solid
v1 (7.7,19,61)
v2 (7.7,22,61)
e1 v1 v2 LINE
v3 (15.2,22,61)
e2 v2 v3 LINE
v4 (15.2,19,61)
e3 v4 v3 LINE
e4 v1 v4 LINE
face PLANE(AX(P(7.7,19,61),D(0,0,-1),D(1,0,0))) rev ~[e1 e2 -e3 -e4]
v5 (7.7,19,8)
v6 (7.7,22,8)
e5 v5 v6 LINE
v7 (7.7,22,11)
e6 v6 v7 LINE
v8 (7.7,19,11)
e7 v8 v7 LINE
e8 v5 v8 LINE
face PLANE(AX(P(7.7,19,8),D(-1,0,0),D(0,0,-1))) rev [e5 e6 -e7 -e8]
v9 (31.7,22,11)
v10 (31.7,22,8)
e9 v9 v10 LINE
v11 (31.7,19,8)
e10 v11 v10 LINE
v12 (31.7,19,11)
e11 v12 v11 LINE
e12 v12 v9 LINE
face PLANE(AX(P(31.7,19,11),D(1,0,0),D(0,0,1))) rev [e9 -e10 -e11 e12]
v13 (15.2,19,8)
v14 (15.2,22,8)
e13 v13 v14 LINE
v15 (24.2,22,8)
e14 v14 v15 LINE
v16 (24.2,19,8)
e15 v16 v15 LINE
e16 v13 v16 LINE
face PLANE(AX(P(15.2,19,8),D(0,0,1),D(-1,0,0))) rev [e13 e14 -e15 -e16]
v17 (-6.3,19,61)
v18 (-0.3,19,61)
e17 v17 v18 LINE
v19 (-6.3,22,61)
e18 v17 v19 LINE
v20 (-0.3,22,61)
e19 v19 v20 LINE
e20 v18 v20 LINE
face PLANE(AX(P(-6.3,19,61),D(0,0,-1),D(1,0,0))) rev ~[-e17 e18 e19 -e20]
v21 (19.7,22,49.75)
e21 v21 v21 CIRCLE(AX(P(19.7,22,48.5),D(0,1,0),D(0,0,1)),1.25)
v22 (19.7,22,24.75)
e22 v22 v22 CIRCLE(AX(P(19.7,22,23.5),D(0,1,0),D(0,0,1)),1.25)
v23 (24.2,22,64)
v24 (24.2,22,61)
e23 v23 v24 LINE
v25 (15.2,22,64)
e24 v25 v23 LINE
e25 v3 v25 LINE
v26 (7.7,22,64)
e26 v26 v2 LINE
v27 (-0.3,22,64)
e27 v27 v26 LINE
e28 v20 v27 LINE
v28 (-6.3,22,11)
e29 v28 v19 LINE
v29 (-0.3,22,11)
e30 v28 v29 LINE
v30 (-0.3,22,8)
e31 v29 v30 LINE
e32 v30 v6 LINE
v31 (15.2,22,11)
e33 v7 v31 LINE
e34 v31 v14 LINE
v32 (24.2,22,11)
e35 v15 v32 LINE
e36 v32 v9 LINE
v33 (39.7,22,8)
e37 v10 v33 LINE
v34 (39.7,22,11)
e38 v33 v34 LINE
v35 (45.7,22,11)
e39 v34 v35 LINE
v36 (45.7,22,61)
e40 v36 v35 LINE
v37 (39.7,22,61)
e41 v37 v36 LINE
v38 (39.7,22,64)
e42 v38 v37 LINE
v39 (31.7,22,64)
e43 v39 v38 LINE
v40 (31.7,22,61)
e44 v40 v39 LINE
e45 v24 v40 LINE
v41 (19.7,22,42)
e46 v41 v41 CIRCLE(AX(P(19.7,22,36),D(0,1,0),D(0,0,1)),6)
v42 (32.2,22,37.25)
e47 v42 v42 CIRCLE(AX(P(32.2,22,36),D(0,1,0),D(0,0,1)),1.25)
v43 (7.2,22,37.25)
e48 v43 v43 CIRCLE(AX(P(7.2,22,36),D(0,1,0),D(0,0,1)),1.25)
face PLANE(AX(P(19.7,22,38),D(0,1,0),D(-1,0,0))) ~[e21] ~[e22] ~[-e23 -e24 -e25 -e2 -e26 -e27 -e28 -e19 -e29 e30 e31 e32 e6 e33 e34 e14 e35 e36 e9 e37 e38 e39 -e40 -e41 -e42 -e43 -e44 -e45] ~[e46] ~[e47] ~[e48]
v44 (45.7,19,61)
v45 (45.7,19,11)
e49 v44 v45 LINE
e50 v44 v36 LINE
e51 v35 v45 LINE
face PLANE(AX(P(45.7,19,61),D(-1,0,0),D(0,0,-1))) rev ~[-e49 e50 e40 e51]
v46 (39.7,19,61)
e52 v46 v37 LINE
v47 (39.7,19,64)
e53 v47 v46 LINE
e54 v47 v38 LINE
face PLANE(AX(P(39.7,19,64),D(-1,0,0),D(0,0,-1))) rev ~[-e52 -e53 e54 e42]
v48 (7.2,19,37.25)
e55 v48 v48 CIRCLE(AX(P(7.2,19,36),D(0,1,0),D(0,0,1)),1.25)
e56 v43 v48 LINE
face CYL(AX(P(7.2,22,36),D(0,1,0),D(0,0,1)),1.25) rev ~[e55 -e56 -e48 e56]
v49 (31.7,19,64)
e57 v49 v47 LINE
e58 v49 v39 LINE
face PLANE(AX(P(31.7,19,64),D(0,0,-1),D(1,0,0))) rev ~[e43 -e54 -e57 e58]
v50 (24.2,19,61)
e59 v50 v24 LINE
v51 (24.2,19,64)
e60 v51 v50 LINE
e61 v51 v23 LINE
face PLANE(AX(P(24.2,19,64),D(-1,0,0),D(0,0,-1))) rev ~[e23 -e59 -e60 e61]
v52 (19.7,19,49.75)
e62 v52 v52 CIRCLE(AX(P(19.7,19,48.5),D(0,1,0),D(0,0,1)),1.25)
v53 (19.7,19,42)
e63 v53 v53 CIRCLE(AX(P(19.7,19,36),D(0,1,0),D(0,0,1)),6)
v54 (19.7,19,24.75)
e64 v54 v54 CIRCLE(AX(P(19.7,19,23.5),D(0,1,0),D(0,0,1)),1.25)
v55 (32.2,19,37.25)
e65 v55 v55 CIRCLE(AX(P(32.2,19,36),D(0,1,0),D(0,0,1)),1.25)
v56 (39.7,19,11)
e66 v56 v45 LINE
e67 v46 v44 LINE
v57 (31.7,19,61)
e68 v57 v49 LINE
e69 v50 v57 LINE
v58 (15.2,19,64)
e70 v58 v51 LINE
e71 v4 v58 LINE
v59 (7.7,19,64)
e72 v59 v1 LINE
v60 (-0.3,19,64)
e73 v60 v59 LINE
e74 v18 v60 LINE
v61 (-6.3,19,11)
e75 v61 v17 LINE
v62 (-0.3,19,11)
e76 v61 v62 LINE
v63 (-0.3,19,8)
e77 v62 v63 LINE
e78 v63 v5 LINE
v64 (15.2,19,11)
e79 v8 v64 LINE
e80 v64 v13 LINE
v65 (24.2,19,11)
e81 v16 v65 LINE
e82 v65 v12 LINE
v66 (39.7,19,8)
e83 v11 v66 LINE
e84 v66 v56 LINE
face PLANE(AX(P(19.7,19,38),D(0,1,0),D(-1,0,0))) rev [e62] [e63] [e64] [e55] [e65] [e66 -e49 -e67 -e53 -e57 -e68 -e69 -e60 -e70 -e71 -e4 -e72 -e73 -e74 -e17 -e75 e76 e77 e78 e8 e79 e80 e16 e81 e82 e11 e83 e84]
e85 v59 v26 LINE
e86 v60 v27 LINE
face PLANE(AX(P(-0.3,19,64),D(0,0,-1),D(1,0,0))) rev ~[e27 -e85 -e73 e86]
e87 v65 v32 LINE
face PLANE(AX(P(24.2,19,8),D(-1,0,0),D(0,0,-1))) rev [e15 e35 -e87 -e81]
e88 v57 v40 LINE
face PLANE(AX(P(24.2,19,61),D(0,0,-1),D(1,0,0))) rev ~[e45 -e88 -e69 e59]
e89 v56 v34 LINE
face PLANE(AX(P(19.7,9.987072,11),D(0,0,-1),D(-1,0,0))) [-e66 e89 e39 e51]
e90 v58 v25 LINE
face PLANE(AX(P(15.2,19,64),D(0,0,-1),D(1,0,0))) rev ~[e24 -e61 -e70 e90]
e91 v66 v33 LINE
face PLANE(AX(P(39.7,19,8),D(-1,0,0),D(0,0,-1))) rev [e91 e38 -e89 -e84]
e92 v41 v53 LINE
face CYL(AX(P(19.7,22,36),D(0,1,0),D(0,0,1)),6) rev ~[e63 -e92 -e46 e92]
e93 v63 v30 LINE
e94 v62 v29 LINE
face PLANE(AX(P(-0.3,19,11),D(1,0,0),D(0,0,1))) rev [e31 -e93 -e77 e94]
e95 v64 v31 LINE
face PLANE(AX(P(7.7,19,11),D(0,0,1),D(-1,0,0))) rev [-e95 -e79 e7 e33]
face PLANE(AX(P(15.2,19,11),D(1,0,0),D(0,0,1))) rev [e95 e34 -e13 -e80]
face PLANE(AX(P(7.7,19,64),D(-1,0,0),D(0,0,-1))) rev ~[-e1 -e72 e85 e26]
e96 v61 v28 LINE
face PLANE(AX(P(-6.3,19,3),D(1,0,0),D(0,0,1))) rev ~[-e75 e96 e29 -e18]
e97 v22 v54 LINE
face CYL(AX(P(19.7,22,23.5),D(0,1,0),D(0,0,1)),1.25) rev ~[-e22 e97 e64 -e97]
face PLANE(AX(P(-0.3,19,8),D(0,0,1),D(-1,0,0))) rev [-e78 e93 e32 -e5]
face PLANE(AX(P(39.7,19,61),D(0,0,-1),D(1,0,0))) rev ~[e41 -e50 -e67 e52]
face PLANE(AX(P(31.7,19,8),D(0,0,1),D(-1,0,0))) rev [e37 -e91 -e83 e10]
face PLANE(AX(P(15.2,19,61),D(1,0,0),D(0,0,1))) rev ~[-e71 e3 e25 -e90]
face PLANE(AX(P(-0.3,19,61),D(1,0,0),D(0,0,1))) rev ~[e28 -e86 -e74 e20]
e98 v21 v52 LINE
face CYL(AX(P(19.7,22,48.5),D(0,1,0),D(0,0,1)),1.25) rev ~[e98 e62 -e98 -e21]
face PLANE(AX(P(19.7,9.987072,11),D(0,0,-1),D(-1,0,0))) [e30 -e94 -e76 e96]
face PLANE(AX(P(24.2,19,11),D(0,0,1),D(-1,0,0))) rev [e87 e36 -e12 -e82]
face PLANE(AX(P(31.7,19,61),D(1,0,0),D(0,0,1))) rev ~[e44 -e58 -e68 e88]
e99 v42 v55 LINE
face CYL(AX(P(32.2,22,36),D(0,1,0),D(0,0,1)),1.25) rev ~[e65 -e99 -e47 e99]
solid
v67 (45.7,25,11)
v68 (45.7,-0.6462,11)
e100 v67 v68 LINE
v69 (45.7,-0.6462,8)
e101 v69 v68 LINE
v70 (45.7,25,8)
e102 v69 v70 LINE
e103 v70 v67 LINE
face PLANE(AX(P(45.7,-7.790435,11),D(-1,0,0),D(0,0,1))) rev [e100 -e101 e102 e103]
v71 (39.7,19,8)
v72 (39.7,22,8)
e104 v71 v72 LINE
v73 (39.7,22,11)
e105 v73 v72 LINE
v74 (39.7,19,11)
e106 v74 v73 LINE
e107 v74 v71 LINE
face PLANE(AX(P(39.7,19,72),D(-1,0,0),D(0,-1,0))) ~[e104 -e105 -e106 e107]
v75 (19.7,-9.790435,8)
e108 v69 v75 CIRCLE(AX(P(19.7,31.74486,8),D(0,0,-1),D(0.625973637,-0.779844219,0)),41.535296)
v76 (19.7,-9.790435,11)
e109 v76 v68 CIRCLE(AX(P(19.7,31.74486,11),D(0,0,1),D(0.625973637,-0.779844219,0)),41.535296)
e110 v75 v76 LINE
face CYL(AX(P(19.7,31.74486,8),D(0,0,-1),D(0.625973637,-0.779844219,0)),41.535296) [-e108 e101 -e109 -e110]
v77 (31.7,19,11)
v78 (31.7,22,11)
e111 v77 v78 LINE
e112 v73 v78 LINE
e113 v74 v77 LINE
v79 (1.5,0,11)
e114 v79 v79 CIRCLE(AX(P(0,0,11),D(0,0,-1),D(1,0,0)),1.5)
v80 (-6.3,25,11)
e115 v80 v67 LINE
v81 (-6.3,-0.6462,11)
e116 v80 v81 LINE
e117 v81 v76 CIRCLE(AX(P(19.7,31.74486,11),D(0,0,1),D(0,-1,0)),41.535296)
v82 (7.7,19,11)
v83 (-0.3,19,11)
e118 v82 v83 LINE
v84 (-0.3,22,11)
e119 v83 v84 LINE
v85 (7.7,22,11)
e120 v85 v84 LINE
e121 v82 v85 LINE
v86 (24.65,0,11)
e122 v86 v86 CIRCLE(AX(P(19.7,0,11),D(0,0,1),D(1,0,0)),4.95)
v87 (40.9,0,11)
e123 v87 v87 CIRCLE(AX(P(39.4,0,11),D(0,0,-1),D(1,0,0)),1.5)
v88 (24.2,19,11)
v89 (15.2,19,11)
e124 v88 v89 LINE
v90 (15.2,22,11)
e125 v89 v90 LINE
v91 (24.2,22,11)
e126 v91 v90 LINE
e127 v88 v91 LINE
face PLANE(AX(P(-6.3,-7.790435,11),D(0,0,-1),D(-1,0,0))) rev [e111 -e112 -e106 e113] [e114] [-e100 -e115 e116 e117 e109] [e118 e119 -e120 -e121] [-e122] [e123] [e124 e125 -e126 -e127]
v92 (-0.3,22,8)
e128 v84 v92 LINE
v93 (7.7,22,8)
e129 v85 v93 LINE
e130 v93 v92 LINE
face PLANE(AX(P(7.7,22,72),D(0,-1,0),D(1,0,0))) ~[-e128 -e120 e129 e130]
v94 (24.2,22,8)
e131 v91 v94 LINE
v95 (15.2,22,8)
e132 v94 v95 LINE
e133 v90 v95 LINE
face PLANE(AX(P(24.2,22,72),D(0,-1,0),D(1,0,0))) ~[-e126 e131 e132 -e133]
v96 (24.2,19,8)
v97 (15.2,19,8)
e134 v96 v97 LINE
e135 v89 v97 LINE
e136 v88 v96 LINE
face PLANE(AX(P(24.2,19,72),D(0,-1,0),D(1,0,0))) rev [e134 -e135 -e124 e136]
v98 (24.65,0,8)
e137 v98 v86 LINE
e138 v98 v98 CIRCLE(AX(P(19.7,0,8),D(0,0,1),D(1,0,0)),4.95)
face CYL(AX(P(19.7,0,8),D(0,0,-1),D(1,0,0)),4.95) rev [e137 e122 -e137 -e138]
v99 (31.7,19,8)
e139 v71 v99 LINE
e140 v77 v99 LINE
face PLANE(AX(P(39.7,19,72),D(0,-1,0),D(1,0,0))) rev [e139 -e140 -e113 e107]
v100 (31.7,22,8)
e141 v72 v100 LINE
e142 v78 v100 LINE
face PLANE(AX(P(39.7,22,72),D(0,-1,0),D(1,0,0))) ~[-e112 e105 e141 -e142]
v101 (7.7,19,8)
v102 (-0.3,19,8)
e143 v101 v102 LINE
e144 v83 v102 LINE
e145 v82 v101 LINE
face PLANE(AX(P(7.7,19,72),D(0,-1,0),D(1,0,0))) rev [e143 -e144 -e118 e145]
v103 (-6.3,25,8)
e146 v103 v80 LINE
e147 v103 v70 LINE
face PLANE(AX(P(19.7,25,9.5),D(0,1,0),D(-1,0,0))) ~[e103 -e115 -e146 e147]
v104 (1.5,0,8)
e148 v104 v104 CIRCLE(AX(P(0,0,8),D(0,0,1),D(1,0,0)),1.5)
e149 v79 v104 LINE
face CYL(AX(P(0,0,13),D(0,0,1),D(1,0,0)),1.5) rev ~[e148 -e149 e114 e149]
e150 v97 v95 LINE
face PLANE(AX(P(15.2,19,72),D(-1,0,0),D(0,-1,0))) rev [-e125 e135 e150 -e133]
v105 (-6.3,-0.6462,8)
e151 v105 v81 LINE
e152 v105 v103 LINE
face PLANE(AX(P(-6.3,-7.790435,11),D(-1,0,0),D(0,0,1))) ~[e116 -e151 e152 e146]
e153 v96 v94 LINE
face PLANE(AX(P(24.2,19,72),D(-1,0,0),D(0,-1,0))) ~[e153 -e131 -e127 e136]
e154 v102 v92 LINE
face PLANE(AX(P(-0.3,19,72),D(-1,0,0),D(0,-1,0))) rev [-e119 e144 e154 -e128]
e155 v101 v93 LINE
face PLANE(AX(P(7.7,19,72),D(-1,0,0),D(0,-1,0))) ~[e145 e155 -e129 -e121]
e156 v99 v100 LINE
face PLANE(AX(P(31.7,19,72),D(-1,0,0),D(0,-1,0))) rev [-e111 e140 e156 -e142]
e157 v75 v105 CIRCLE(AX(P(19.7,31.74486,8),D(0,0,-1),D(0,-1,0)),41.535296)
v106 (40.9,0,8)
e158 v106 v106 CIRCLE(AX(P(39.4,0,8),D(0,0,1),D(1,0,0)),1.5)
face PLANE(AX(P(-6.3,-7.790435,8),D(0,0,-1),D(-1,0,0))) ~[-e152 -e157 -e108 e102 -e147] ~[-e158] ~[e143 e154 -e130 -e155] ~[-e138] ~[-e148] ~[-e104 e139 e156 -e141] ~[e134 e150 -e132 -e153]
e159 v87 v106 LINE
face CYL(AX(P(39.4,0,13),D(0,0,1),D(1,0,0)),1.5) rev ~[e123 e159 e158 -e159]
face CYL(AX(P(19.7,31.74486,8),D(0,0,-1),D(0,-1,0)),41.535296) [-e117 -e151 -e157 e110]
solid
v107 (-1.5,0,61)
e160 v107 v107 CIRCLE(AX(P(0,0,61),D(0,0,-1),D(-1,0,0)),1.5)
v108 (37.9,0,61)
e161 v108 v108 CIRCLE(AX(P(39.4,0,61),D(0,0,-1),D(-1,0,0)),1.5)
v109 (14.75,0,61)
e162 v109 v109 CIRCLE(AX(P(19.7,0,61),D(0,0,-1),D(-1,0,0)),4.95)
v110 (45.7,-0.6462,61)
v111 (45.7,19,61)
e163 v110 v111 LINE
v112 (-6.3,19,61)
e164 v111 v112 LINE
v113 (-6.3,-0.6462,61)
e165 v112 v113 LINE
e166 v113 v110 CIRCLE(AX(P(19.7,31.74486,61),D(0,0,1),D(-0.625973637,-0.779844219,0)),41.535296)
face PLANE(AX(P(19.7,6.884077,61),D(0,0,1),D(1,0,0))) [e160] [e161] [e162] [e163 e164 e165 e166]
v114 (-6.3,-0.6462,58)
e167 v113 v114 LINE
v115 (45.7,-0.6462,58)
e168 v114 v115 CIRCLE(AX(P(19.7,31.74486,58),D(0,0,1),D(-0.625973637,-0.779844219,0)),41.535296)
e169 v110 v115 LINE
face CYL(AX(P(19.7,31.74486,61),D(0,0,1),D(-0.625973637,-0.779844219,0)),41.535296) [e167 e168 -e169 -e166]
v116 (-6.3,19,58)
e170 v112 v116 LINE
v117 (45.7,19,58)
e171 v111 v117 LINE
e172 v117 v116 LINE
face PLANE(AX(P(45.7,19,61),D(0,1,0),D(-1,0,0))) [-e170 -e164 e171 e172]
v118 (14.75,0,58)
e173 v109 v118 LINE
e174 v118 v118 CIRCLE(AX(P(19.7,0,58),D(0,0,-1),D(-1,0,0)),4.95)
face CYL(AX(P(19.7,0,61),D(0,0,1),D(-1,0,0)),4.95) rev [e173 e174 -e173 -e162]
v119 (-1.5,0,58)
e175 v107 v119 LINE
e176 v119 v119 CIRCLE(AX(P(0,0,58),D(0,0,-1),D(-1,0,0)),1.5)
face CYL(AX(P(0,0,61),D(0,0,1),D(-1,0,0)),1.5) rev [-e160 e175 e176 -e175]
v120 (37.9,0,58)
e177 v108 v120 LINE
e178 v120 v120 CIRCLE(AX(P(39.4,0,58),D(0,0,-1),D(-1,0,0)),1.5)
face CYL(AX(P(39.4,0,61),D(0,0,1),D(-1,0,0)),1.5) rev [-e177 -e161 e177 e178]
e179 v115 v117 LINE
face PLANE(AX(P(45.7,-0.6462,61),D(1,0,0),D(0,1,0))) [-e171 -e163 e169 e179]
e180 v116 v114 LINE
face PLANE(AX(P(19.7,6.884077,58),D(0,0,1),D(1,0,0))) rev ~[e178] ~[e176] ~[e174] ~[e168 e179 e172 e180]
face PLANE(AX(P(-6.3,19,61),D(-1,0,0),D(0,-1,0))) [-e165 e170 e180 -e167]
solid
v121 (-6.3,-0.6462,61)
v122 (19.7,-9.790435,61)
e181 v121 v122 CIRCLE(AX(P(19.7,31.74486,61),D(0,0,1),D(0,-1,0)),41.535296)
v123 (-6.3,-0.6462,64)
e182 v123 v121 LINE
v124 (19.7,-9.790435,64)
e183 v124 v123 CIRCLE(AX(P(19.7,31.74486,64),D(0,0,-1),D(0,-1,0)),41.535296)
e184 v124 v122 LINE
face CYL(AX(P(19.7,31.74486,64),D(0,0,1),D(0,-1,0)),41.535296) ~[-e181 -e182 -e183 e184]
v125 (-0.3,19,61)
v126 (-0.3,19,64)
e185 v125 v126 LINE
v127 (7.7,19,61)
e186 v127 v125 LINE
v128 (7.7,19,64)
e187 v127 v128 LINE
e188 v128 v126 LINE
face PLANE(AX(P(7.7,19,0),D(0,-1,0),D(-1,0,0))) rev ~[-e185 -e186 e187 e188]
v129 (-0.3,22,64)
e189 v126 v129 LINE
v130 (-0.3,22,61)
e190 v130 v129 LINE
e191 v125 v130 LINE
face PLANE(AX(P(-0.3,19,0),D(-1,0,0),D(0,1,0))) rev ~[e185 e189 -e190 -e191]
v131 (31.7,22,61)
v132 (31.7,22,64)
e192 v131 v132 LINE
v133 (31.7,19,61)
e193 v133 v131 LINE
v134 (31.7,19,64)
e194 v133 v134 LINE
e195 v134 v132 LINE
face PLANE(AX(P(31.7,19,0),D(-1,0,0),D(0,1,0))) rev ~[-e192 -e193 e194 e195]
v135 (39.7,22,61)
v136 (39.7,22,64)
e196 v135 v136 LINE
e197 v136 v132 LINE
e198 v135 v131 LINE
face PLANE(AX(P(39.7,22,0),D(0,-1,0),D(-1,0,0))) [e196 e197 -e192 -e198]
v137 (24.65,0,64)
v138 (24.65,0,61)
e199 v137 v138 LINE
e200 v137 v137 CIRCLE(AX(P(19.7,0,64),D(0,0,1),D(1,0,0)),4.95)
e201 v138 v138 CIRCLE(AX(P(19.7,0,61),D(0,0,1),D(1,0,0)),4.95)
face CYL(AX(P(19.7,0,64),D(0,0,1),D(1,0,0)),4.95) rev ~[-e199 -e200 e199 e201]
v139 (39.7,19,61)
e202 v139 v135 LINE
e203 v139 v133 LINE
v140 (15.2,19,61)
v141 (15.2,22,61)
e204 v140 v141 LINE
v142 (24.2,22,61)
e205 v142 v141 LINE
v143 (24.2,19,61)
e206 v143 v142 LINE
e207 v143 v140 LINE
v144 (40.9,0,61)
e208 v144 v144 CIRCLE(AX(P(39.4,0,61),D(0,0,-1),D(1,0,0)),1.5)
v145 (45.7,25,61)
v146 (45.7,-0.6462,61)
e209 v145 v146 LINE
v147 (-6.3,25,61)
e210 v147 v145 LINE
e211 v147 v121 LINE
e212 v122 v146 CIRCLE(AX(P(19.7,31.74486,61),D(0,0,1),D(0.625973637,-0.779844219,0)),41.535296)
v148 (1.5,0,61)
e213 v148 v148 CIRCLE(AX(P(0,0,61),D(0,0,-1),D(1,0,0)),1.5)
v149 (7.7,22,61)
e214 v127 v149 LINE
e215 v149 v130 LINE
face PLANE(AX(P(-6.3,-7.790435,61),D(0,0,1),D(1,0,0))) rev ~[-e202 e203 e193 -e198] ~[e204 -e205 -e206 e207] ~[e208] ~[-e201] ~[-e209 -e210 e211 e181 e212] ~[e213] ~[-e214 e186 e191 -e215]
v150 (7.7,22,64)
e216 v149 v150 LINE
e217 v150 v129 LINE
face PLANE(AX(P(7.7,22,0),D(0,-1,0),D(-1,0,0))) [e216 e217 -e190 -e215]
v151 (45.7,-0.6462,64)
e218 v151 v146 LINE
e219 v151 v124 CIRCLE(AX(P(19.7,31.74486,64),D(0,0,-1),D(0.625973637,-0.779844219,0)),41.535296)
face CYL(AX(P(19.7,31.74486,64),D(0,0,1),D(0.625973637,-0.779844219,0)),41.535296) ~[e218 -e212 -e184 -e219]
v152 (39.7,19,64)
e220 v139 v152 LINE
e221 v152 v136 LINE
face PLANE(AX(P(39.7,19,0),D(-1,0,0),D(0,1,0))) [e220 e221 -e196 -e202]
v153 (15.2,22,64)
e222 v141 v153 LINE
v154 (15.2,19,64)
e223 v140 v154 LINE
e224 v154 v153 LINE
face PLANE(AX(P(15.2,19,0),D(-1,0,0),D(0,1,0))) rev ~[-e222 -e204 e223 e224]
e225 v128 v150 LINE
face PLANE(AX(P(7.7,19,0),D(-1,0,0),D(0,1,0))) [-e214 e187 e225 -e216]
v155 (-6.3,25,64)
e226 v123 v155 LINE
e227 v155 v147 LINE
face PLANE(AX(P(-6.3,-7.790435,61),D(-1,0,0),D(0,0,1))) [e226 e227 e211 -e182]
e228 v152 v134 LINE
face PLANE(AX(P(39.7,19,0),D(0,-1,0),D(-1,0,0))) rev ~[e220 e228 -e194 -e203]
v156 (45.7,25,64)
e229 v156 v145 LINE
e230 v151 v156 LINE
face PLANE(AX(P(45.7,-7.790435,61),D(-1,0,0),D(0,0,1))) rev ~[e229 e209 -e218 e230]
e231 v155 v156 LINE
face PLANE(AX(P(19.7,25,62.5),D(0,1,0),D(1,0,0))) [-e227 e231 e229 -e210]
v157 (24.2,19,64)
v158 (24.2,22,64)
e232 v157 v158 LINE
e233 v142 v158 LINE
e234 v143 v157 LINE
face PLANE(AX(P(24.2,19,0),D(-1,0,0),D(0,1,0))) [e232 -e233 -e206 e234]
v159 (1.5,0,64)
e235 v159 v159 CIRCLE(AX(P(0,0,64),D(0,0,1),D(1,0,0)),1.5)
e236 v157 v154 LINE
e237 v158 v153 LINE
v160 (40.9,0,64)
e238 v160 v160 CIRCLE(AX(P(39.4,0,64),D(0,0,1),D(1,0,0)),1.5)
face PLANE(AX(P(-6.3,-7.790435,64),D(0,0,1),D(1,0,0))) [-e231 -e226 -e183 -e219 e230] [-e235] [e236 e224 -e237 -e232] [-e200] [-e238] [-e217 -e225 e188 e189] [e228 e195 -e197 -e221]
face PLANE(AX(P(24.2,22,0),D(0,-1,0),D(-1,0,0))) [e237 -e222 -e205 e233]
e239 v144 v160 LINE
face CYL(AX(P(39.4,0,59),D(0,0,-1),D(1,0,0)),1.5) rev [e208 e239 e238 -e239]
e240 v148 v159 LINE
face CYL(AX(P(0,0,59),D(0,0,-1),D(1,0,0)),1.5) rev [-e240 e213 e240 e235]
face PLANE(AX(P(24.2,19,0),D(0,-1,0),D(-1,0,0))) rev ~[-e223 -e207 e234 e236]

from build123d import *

# Parameters (mm, degrees)
SKETCH_1_R                = 1.5
SKETCH_1_R_2              = 2.5
EXTRUDE_1_DEPTH           = 3
EXTRUDE_START             = -5
SKETCH_2_R                = 2.5
SKETCH_2_R_2              = 1.5
EXTRUDE_6_DEPTH           = 5
SKETCH_5_W                = 62
SKETCH_5_H                = 30
CUT_EXTRUDE_1_DEPTH       = 2
SKETCH_6_W                = 10
SKETCH_6_H                = 3
CUT_EXTRUDE_2_DEPTH       = 10
SKETCH_8_W                = 5
SKETCH_8_H                = 30
CUT_EXTRUDE_3_DEPTH       = 13
PATTERN_LINEAR_1_COUNT    = 2
PATTERN_LINEAR_1_PITCH    = 61
CUT_EXTRUDE_9_DEPTH       = 3
CUT_EXTRUDE_10_DEPTH      = 78.681979892
CUT_EXTRUDE_10_DEPTH_BACK = 3
SKETCH_14_W               = 10
SKETCH_14_H               = 3
EXTRUDE_7_DEPTH           = 3
SKETCH_16_W               = 52
SKETCH_16_H               = 3
EXTRUDE_8_DEPTH           = 10
SKETCH_17_W               = 52
SKETCH_17_H               = 3
EXTRUDE_9_DEPTH           = 10
SKETCH_18_W               = 8
SKETCH_18_H               = 3
SKETCH_18_W_2             = 9
CUT_EXTRUDE_11_DEPTH      = 92
EXTRUDE_10_DEPTH          = 3
EXTRUDE_11_DEPTH          = 3
SKETCH_22_W               = 186.911314513
SKETCH_22_H               = 209.890351
CUT_EXTRUDE_12_DEPTH      = 32
SKETCH_23_W               = 36
SKETCH_23_H               = 45.580870686
CUT_EXTRUDE_13_DEPTH      = 32
SKETCH_24_R               = 6
CUT_EXTRUDE_14_DEPTH      = 70
SKETCH_25_R               = 1.25
CUT_EXTRUDE_15_DEPTH      = 70
SKETCH_26_R               = 4.95
CUT_EXTRUDE_16_DEPTH      = 70
SKETCH_27_W               = 3
SKETCH_27_H               = 22.790435343
EXTRUDE_12_DEPTH          = 2
SKETCH_28_W               = 3
SKETCH_28_H               = 22.790435343
EXTRUDE_13_DEPTH          = 2
SKETCH_29_W               = 52
SKETCH_29_H               = 3
EXTRUDE_14_DEPTH          = 2
SKETCH_30_W               = 20
SKETCH_30_H               = 3
EXTRUDE_15_DEPTH          = 2
CUT_EXTRUDE_18_DEPTH      = 12
CUT_EXTRUDE_START         = -12
CUT_EXTRUDE_19_DEPTH      = 12
SKETCH_33_R               = 17.058294543
EXTRUDE_16_DEPTH          = 3
SKETCH_34_R               = 56.337564476
CUT_EXTRUDE_20_DEPTH      = 7
CUT_EXTRUDE_START_2       = -5
CUT_EXTRUDE_21_DEPTH      = 5
CUT_EXTRUDE_23_DEPTH      = 5
SKETCH_39_R               = 6
CUT_EXTRUDE_24_DEPTH      = 5
SKETCH_40_R               = 1.5
SKETCH_40_R_2             = 4.95
EXTRUDE_17_DEPTH          = 3
SKETCH_41_R               = 1.25
CUT_EXTRUDE_25_DEPTH      = 3


with BuildPart() as part:
    # 草图1 → 凸台-拉伸1 (new body)
    with BuildSketch(Plane.XY):
        with BuildLine():
            Line((-5.3, 6), (44.7, 6))
            ThreePointArc((44.7, 6), (50.7, 0), (44.7, -6))
            Line((44.7, -6), (-5.3, -6))
            ThreePointArc((-5.3, -6), (-11.3, 0), (-5.3, 6))
        make_face()
        Circle(SKETCH_1_R, mode=Mode.SUBTRACT)
        with Locations((39.4, 0)):
            Circle(SKETCH_1_R, mode=Mode.SUBTRACT)
        with Locations((19.7, 0)):
            Circle(SKETCH_1_R_2, mode=Mode.SUBTRACT)
    extrude(amount=EXTRUDE_1_DEPTH)

    # 草图2 → 凸台-拉伸6 (add)
    # profile 1 of 3: a face of its own
    with BuildSketch(Plane.XY.offset(3).offset(EXTRUDE_START)):
        with BuildLine():
            Line((-11.3, 15), (-11.3, 3.3e-08))
            ThreePointArc((-11.3, 3.3e-08), (-9.542640675, 4.242640699), (-5.3, 6))
            Line((-5.3, 6), (44.7, 6))
            ThreePointArc((44.7, 6), (48.942640687, 4.242640687), (50.7, 0))
            Line((50.7, 0), (50.7, 15))
            Line((50.7, 15), (-11.3, 15))
        make_face()
    # profile 2 of 3: a face of its own
    with BuildSketch(Plane.XY.offset(3).offset(EXTRUDE_START)):
        with BuildLine():
            Line((44.7, 6), (-5.3, 6))
            ThreePointArc((-5.3, 6), (-11.3, 0), (-5.3, -6))
            Line((-5.3, -6), (44.7, -6))
            ThreePointArc((44.7, -6), (50.7, 0), (44.7, 6))
        make_face()
        with Locations((19.7, 0)):
            Circle(SKETCH_2_R, mode=Mode.SUBTRACT)
        Circle(SKETCH_2_R_2, mode=Mode.SUBTRACT)
        with Locations((39.4, 0)):
            Circle(SKETCH_2_R_2, mode=Mode.SUBTRACT)
    # profile 3 of 3: a face of its own
    with BuildSketch(Plane.XY.offset(3).offset(EXTRUDE_START)):
        with BuildLine():
            Line((-11.3, 3.3e-08), (-11.3, -15))
            Line((-11.3, -15), (50.7, -15))
            Line((50.7, -15), (50.7, 0))
            ThreePointArc((50.7, 0), (48.942640687, -4.242640687), (44.7, -6))
            Line((44.7, -6), (-5.3, -6))
            ThreePointArc((-5.3, -6), (-9.542640699, -4.242640675), (-11.3, 3.3e-08))
        make_face()
    extrude(amount=EXTRUDE_6_DEPTH)

    # 草图5 → 切除-拉伸1 (cut)
    with BuildSketch(Plane(origin=(0, 0, -2), x_dir=(-1, 0, 0), z_dir=(0, 0, -1))):
        with Locations((-19.7, 0)):
            Rectangle(SKETCH_5_W, SKETCH_5_H)
    extrude(amount=-CUT_EXTRUDE_1_DEPTH, mode=Mode.SUBTRACT)

    # 草图6 → 切除-拉伸2 (cut)
    with BuildSketch(Plane(origin=(0, 0, 0), x_dir=(-1, 0, 0), z_dir=(0, 0, -1))):
        with Locations((-37.7, 10.5)):
            Rectangle(SKETCH_6_W, SKETCH_6_H)
        with Locations((-19.7, 10.5)):
            Rectangle(SKETCH_6_W, SKETCH_6_H)
        with Locations((-1.7, 10.5)):
            Rectangle(SKETCH_6_W, SKETCH_6_H)
    extrude(amount=-CUT_EXTRUDE_2_DEPTH, mode=Mode.SUBTRACT)

    # 草图8 → 切除-拉伸3 (cut)
    with BuildSketch(Plane.XY.offset(3)):
        with Locations((-8.8, 0)):
            Rectangle(SKETCH_8_W, SKETCH_8_H)
        with Locations((48.2, 0)):
            Rectangle(SKETCH_8_W, SKETCH_8_H)
    extrude(amount=-CUT_EXTRUDE_3_DEPTH, mode=Mode.SUBTRACT)


with BuildPart() as pattern_linear_1_1:
    # 阵列(线性)1: pattern copy
    add(part.part.moved(Location(Vector(0, 0, 1) * (1 * PATTERN_LINEAR_1_PITCH))))

    # 草图12 → 切除-拉伸9 (cut)
    with BuildSketch(Plane.XY.offset(64)):
        with BuildLine():
            Line((-6.3, -15), (19.7, -15))
            ThreePointArc((19.7, -15), (4.683324043, -10.971127107), (-6.3, 0.033370453))
            Line((-6.3, 0.033370453), (-6.3, -15))
        make_face()
        with BuildLine():
            Line((45.7, -15), (45.7, 0.033370453))
            ThreePointArc((45.7, 0.033370453), (34.716675957, -10.971127107), (19.7, -15))
            Line((19.7, -15), (45.7, -15))
        make_face()
    extrude(amount=-CUT_EXTRUDE_9_DEPTH, mode=Mode.SUBTRACT)


with BuildPart() as part_1:
    add(part.part)

    # 草图13 → 切除-拉伸10 (cut, two sides: drawn at the far end of the back side and taken through both)
    with BuildSketch(Plane.XY.offset(3).offset(-CUT_EXTRUDE_10_DEPTH_BACK)):
        with BuildLine():
            ThreePointArc((19.7, -15), (4.683324043, -10.971127107), (-6.3, 0.033370453))
            Line((-6.3, 0.033370453), (-6.3, -15))
            Line((-6.3, -15), (19.7, -15))
        make_face()
        with BuildLine():
            ThreePointArc((45.7, 0.033370453), (34.716675957, -10.971127107), (19.7, -15))
            Line((19.7, -15), (45.7, -15))
            Line((45.7, -15), (45.7, 0.033370453))
        make_face()
    extrude(amount=CUT_EXTRUDE_10_DEPTH + CUT_EXTRUDE_10_DEPTH_BACK, mode=Mode.SUBTRACT)

    add(pattern_linear_1_1.part)  # 凸台-拉伸7 merges 阵列(线性)1_1
    # 草图14 → 凸台-拉伸7 (add)
    with BuildSketch(Plane(origin=(0, 9, 0), x_dir=(1, 0, 0), z_dir=(0, 1, 0))):
        with Locations((37.7, -62.5)):
            Rectangle(SKETCH_14_W, SKETCH_14_H)
        with Locations((1.7, -1.5)):
            Rectangle(SKETCH_14_W, SKETCH_14_H)
        with Locations((19.7, -1.5)):
            Rectangle(SKETCH_14_W, SKETCH_14_H)
        with Locations((37.7, -1.5)):
            Rectangle(SKETCH_14_W, SKETCH_14_H)
        with Locations((1.7, -62.5)):
            Rectangle(SKETCH_14_W, SKETCH_14_H)
        with Locations((19.7, -62.5)):
            Rectangle(SKETCH_14_W, SKETCH_14_H)
    extrude(amount=EXTRUDE_7_DEPTH)

    # 草图16 → 凸台-拉伸8 (add)
    with BuildSketch(Plane(origin=(0, 15, 0), x_dir=(1, 0, 0), z_dir=(0, 1, 0))):
        with Locations((19.7, -62.5)):
            Rectangle(SKETCH_16_W, SKETCH_16_H)
    extrude(amount=EXTRUDE_8_DEPTH)

    # 草图17 → 凸台-拉伸9 (add)
    with BuildSketch(Plane(origin=(0, 15, 0), x_dir=(1, 0, 0), z_dir=(0, 1, 0))):
        with Locations((19.7, -1.5)):
            Rectangle(SKETCH_17_W, SKETCH_17_H)
    extrude(amount=EXTRUDE_9_DEPTH)

    # 草图18 → 切除-拉伸11 (cut)
    with BuildSketch(Plane(origin=(0, 0, 0), x_dir=(-1, 0, 0), z_dir=(0, 0, -1))):
        with Locations((-35.7, 20.5)):
            Rectangle(SKETCH_18_W, SKETCH_18_H)
        with Locations((-19.7, 20.5)):
            Rectangle(SKETCH_18_W_2, SKETCH_18_H)
        with Locations((-3.7, 20.5)):
            Rectangle(SKETCH_18_W, SKETCH_18_H)
    extrude(amount=-CUT_EXTRUDE_11_DEPTH, mode=Mode.SUBTRACT)

    # 草图21 → 凸台-拉伸11 (add)
    with BuildSketch(Plane.XY.offset(64)):
        Polygon((-6.3, 0.033370453), (-6.3, -7.790435343), (45.7, -7.790435343), (45.7, 0.033370453), (28.488176581, -6.055190285), (-2.858185747, -2.304821935), align=None)
    extrude(amount=-EXTRUDE_11_DEPTH)

    # 草图22 → 切除-拉伸12 (cut)
    with BuildSketch(Plane.XZ.offset(7.790435343)):
        with Locations((-1.99778524, 62.455941245)):
            Rectangle(SKETCH_22_W, SKETCH_22_H)
    extrude(amount=CUT_EXTRUDE_12_DEPTH, mode=Mode.SUBTRACT)

    # 草图23 → 切除-拉伸13 (cut)
    with BuildSketch(Plane(origin=(0, 0, 0), x_dir=(-1, 0, 0), z_dir=(0, 0, -1))):
        with Locations((-45.7, -7.790435343)):
            Rectangle(SKETCH_23_W, SKETCH_23_H)
        with Locations((6.3, -7.790435343)):
            Rectangle(SKETCH_23_W, SKETCH_23_H)
    extrude(amount=-CUT_EXTRUDE_13_DEPTH, mode=Mode.SUBTRACT)

    # 草图26 → 切除-拉伸16 (cut)
    with BuildSketch(Plane.XY.offset(64)):
        with Locations((19.7, 0)):
            Circle(SKETCH_26_R)
    extrude(amount=-CUT_EXTRUDE_16_DEPTH, mode=Mode.SUBTRACT)

    # 草图27 → 凸台-拉伸12 (add)
    with BuildSketch(Plane.ZY.offset(-11.7)):
        with Locations((1.5, 3.604782329)):
            Rectangle(SKETCH_27_W, SKETCH_27_H)
    extrude(amount=EXTRUDE_12_DEPTH)

    # 草图28 → 凸台-拉伸13 (add)
    with BuildSketch(Plane(origin=(27.7, 0, 0), x_dir=(0, 0, -1), z_dir=(1, 0, 0))):
        with Locations((-1.5, 3.604782329)):
            Rectangle(SKETCH_28_W, SKETCH_28_H)
    extrude(amount=EXTRUDE_13_DEPTH)

    # 草图29 → 凸台-拉伸14 (add)
    with BuildSketch(Plane.XZ.offset(7.790435343)):
        with Locations((19.7, 62.5)):
            Rectangle(SKETCH_29_W, SKETCH_29_H)
    extrude(amount=EXTRUDE_14_DEPTH)

    # 草图30 → 凸台-拉伸15 (add)
    with BuildSketch(Plane.XZ.offset(7.790435343)):
        with Locations((19.7, 1.5)):
            Rectangle(SKETCH_30_W, SKETCH_30_H)
    extrude(amount=EXTRUDE_15_DEPTH)

    # 草图31 → 切除-拉伸18 (cut)
    with BuildSketch(Plane.XY.offset(64)):
        with BuildLine():
            ThreePointArc((45.7, -0.646199916), (33.480575474, -7.437744554), (19.7, -9.790435343))
            Line((19.7, -9.790435343), (45.7, -9.790435343))
            Line((45.7, -9.790435343), (45.7, -0.646199916))
        make_face()
        with BuildLine():
            ThreePointArc((19.7, -9.790435343), (5.919424526, -7.437744554), (-6.3, -0.646199916))
            Line((-6.3, -0.646199916), (-6.3, -9.790435343))
            Line((-6.3, -9.790435343), (19.7, -9.790435343))
        make_face()
    extrude(amount=-CUT_EXTRUDE_18_DEPTH, mode=Mode.SUBTRACT)

    # 草图32 → 切除-拉伸19 (cut)
    with BuildSketch(Plane(origin=(0, 0, 0), x_dir=(-1, 0, 0), z_dir=(0, 0, -1)).offset(CUT_EXTRUDE_START)):
        with BuildLine():
            Line((-45.7, -0.646199916), (-43.950258349, -12.650491263))
            Line((-43.950258349, -12.650491263), (6.3, -16.622113536))
            Line((6.3, -16.622113536), (6.3, -0.646199916))
            ThreePointArc((6.3, -0.646199916), (-19.7, -9.790435343), (-45.7, -0.646199916))
        make_face()
    extrude(amount=CUT_EXTRUDE_19_DEPTH, mode=Mode.SUBTRACT)


with BuildPart() as body_2:
    # 草图19 → 凸台-拉伸10 (new body)
    with BuildSketch(Plane(origin=(0, 19, 0), x_dir=(1, 0, 0), z_dir=(0, 1, 0))):
        Polygon((39.7, -3), (39.7, 0), (31.7, 0), (31.7, -3), (24.2, -3), (24.2, 0), (15.2, 0), (15.2, -3), (7.7, -3), (7.7, 0), (-0.3, 0), (-0.3, -3), (-6.3, -3), (-6.3, -61), (-0.3, -61), (-0.3, -64), (7.7, -64), (7.7, -61), (15.2, -61), (15.2, -64), (24.2, -64), (24.2, -61), (31.7, -61), (31.7, -64), (39.7, -64), (39.7, -61), (45.7, -61), (45.7, -3), align=None)
    extrude(amount=EXTRUDE_10_DEPTH)

    # 草图24 → 切除-拉伸14 (cut)
    with BuildSketch(Plane(origin=(0, 22, 0), x_dir=(1, 0, 0), z_dir=(0, 1, 0))):
        with Locations(Location((19.7, -32, 0), (0, 0, 270))):
            Circle(SKETCH_24_R)
    extrude(amount=-CUT_EXTRUDE_14_DEPTH, mode=Mode.SUBTRACT)

    # 草图25 → 切除-拉伸15 (cut)
    with BuildSketch(Plane(origin=(0, 22, 0), x_dir=(1, 0, 0), z_dir=(0, 1, 0))):
        with Locations(Location((19.7, -19.5, 0), (0, 0, 270))):
            Circle(SKETCH_25_R)
        with Locations(Location((7.2, -32, 0), (0, 0, 270))):
            Circle(SKETCH_25_R)
        with Locations(Location((19.7, -44.5, 0), (0, 0, 270))):
            Circle(SKETCH_25_R)
        with Locations(Location((32.2, -32, 0), (0, 0, 270))):
            Circle(SKETCH_25_R)
    extrude(amount=-CUT_EXTRUDE_15_DEPTH, mode=Mode.SUBTRACT)

    # 草图33 → 凸台-拉伸16 (add)
    with BuildSketch(Plane(origin=(0, 22, 0), x_dir=(1, 0, 0), z_dir=(0, 1, 0))):
        with Locations((19.7, -32)):
            Circle(SKETCH_33_R)
    extrude(amount=-EXTRUDE_16_DEPTH)


with BuildPart() as cut_extrude_20_tool:
    # 草图34 → 切除-拉伸20 (new body)
    with BuildSketch(Plane(origin=(0, 0, 0), x_dir=(-1, 0, 0), z_dir=(0, 0, -1))):
        with Locations((-20.233447846, 12.47883322)):
            Circle(SKETCH_34_R)
    extrude(amount=-CUT_EXTRUDE_20_DEPTH)


with BuildPart() as part_2:
    add(part_1.part)

    # 切除-拉伸20: cut by cut_extrude_20_tool
    add(cut_extrude_20_tool.part, mode=Mode.SUBTRACT)


with BuildPart() as body_2_1:
    add(body_2.part)

    # 切除-拉伸20: cut by cut_extrude_20_tool
    add(cut_extrude_20_tool.part, mode=Mode.SUBTRACT)

    # 镜向1: body 2 across plane


with BuildPart() as body_2_2:
    add(body_2_1.part)
    add(body_2_1.part.mirror(Plane.XY.offset(34)))


with BuildPart() as body_3:
    # 镜向2: mirrored copy
    add(part_2.part.mirror(Plane.XY.offset(34)))


with BuildPart() as cut_extrude_21_tool:
    # 草图36 → 切除-拉伸21 (new body)
    with BuildSketch(Plane(origin=(0, 0, 4), x_dir=(-1, 0, 0), z_dir=(0, 0, -1)).offset(CUT_EXTRUDE_START_2)):
        with BuildLine():
            Line((6.3, -0.646199916), (6.3, 25))
            Line((6.3, 25), (-45.7, 25))
            Line((-45.7, 25), (-45.7, -0.646199916))
            ThreePointArc((-45.7, -0.646199916), (-19.7, -9.790435343), (6.3, -0.646199916))
        make_face()
    extrude(amount=CUT_EXTRUDE_21_DEPTH)


with BuildPart() as body_2_3:
    add(body_2_2.part)

    # 切除-拉伸21: cut by cut_extrude_21_tool
    add(cut_extrude_21_tool.part, mode=Mode.SUBTRACT)

    # 镜向3: body 2 across plane


with BuildPart() as body_3_1:
    add(body_3.part)

    # 切除-拉伸21: cut by cut_extrude_21_tool
    add(cut_extrude_21_tool.part, mode=Mode.SUBTRACT)


with BuildPart() as body_2_4:
    add(body_2_3.part)
    add(body_2_3.part.mirror(Plane(origin=(0, 0, 35), x_dir=(1, 0, 0), z_dir=(0, 0, -1))))


with BuildPart() as body_3_2:
    # 镜向4: mirrored copy
    add(part_2.part.mirror(Plane(origin=(0, 0, 35), x_dir=(1, 0, 0), z_dir=(0, 0, -1))))


with BuildPart() as cut_extrude_23_tool:
    # 草图38 → 切除-拉伸23 (new body)
    with BuildSketch(Plane(origin=(0, 0, 6), x_dir=(-1, 0, 0), z_dir=(0, 0, -1)).offset(CUT_EXTRUDE_START_2)):
        with BuildLine():
            Line((6.3, -0.646199916), (6.3, 25))
            Line((6.3, 25), (-45.7, 25))
            Line((-45.7, 25), (-45.7, -0.646199916))
            ThreePointArc((-45.7, -0.646199916), (-19.7, -9.790435343), (6.3, -0.646199916))
        make_face()
    extrude(amount=CUT_EXTRUDE_23_DEPTH)


with BuildPart() as body_2_5:
    add(body_2_4.part)

    # 切除-拉伸23: cut by cut_extrude_23_tool
    add(cut_extrude_23_tool.part, mode=Mode.SUBTRACT)

    # 镜向5: body 2 across plane


with BuildPart() as body_3_2_1:
    add(body_3_2.part)

    # 切除-拉伸23: cut by cut_extrude_23_tool
    add(cut_extrude_23_tool.part, mode=Mode.SUBTRACT)


with BuildPart() as body_2_6:
    add(body_2_5.part)
    add(body_2_5.part.mirror(Plane.XY.offset(36)))

    # 草图39 → 切除-拉伸24 (cut)
    with BuildSketch(Plane(origin=(0, 22, 0), x_dir=(1, 0, 0), z_dir=(0, 1, 0))):
        with Locations(Location((19.7, -36, 0), (0, 0, 270))):
            Circle(SKETCH_39_R)
    extrude(amount=-CUT_EXTRUDE_24_DEPTH, mode=Mode.SUBTRACT)

    # 草图41 → 切除-拉伸25 (cut)
    with BuildSketch(Plane(origin=(0, 22, 0), x_dir=(1, 0, 0), z_dir=(0, 1, 0))):
        with Locations(Location((19.7, -23.5, 0), (0, 0, 270))):
            Circle(SKETCH_41_R)
        with Locations(Location((7.2, -36, 0), (0, 0, 270))):
            Circle(SKETCH_41_R)
        with Locations(Location((19.7, -48.5, 0), (0, 0, 270))):
            Circle(SKETCH_41_R)
        with Locations(Location((32.2, -36, 0), (0, 0, 270))):
            Circle(SKETCH_41_R)
    extrude(amount=-CUT_EXTRUDE_25_DEPTH, mode=Mode.SUBTRACT)


with BuildPart() as body_3_3:
    # 镜向6: mirrored copy
    add(part_2.part.mirror(Plane.XY.offset(36)))


with BuildPart() as body_4:
    # 草图40 → 凸台-拉伸17 (new body)
    with BuildSketch(Plane(origin=(0, 0, 61), x_dir=(-1, 0, 0), z_dir=(0, 0, -1))):
        with BuildLine():
            Line((-45.7, 19), (6.3, 19))
            Line((6.3, 19), (6.3, -0.646199916))
            ThreePointArc((6.3, -0.646199916), (-19.7, -9.790435343), (-45.7, -0.646199916))
            Line((-45.7, -0.646199916), (-45.7, 19))
        make_face()
        with Locations((-39.4, 0)):
            Circle(SKETCH_40_R, mode=Mode.SUBTRACT)
        with Locations((-19.7, 0)):
            Circle(SKETCH_40_R_2, mode=Mode.SUBTRACT)
        Circle(SKETCH_40_R, mode=Mode.SUBTRACT)
    extrude(amount=EXTRUDE_17_DEPTH)


solid = Compound([part_2.part, body_2_6.part, body_3_3.part, body_4.part])
